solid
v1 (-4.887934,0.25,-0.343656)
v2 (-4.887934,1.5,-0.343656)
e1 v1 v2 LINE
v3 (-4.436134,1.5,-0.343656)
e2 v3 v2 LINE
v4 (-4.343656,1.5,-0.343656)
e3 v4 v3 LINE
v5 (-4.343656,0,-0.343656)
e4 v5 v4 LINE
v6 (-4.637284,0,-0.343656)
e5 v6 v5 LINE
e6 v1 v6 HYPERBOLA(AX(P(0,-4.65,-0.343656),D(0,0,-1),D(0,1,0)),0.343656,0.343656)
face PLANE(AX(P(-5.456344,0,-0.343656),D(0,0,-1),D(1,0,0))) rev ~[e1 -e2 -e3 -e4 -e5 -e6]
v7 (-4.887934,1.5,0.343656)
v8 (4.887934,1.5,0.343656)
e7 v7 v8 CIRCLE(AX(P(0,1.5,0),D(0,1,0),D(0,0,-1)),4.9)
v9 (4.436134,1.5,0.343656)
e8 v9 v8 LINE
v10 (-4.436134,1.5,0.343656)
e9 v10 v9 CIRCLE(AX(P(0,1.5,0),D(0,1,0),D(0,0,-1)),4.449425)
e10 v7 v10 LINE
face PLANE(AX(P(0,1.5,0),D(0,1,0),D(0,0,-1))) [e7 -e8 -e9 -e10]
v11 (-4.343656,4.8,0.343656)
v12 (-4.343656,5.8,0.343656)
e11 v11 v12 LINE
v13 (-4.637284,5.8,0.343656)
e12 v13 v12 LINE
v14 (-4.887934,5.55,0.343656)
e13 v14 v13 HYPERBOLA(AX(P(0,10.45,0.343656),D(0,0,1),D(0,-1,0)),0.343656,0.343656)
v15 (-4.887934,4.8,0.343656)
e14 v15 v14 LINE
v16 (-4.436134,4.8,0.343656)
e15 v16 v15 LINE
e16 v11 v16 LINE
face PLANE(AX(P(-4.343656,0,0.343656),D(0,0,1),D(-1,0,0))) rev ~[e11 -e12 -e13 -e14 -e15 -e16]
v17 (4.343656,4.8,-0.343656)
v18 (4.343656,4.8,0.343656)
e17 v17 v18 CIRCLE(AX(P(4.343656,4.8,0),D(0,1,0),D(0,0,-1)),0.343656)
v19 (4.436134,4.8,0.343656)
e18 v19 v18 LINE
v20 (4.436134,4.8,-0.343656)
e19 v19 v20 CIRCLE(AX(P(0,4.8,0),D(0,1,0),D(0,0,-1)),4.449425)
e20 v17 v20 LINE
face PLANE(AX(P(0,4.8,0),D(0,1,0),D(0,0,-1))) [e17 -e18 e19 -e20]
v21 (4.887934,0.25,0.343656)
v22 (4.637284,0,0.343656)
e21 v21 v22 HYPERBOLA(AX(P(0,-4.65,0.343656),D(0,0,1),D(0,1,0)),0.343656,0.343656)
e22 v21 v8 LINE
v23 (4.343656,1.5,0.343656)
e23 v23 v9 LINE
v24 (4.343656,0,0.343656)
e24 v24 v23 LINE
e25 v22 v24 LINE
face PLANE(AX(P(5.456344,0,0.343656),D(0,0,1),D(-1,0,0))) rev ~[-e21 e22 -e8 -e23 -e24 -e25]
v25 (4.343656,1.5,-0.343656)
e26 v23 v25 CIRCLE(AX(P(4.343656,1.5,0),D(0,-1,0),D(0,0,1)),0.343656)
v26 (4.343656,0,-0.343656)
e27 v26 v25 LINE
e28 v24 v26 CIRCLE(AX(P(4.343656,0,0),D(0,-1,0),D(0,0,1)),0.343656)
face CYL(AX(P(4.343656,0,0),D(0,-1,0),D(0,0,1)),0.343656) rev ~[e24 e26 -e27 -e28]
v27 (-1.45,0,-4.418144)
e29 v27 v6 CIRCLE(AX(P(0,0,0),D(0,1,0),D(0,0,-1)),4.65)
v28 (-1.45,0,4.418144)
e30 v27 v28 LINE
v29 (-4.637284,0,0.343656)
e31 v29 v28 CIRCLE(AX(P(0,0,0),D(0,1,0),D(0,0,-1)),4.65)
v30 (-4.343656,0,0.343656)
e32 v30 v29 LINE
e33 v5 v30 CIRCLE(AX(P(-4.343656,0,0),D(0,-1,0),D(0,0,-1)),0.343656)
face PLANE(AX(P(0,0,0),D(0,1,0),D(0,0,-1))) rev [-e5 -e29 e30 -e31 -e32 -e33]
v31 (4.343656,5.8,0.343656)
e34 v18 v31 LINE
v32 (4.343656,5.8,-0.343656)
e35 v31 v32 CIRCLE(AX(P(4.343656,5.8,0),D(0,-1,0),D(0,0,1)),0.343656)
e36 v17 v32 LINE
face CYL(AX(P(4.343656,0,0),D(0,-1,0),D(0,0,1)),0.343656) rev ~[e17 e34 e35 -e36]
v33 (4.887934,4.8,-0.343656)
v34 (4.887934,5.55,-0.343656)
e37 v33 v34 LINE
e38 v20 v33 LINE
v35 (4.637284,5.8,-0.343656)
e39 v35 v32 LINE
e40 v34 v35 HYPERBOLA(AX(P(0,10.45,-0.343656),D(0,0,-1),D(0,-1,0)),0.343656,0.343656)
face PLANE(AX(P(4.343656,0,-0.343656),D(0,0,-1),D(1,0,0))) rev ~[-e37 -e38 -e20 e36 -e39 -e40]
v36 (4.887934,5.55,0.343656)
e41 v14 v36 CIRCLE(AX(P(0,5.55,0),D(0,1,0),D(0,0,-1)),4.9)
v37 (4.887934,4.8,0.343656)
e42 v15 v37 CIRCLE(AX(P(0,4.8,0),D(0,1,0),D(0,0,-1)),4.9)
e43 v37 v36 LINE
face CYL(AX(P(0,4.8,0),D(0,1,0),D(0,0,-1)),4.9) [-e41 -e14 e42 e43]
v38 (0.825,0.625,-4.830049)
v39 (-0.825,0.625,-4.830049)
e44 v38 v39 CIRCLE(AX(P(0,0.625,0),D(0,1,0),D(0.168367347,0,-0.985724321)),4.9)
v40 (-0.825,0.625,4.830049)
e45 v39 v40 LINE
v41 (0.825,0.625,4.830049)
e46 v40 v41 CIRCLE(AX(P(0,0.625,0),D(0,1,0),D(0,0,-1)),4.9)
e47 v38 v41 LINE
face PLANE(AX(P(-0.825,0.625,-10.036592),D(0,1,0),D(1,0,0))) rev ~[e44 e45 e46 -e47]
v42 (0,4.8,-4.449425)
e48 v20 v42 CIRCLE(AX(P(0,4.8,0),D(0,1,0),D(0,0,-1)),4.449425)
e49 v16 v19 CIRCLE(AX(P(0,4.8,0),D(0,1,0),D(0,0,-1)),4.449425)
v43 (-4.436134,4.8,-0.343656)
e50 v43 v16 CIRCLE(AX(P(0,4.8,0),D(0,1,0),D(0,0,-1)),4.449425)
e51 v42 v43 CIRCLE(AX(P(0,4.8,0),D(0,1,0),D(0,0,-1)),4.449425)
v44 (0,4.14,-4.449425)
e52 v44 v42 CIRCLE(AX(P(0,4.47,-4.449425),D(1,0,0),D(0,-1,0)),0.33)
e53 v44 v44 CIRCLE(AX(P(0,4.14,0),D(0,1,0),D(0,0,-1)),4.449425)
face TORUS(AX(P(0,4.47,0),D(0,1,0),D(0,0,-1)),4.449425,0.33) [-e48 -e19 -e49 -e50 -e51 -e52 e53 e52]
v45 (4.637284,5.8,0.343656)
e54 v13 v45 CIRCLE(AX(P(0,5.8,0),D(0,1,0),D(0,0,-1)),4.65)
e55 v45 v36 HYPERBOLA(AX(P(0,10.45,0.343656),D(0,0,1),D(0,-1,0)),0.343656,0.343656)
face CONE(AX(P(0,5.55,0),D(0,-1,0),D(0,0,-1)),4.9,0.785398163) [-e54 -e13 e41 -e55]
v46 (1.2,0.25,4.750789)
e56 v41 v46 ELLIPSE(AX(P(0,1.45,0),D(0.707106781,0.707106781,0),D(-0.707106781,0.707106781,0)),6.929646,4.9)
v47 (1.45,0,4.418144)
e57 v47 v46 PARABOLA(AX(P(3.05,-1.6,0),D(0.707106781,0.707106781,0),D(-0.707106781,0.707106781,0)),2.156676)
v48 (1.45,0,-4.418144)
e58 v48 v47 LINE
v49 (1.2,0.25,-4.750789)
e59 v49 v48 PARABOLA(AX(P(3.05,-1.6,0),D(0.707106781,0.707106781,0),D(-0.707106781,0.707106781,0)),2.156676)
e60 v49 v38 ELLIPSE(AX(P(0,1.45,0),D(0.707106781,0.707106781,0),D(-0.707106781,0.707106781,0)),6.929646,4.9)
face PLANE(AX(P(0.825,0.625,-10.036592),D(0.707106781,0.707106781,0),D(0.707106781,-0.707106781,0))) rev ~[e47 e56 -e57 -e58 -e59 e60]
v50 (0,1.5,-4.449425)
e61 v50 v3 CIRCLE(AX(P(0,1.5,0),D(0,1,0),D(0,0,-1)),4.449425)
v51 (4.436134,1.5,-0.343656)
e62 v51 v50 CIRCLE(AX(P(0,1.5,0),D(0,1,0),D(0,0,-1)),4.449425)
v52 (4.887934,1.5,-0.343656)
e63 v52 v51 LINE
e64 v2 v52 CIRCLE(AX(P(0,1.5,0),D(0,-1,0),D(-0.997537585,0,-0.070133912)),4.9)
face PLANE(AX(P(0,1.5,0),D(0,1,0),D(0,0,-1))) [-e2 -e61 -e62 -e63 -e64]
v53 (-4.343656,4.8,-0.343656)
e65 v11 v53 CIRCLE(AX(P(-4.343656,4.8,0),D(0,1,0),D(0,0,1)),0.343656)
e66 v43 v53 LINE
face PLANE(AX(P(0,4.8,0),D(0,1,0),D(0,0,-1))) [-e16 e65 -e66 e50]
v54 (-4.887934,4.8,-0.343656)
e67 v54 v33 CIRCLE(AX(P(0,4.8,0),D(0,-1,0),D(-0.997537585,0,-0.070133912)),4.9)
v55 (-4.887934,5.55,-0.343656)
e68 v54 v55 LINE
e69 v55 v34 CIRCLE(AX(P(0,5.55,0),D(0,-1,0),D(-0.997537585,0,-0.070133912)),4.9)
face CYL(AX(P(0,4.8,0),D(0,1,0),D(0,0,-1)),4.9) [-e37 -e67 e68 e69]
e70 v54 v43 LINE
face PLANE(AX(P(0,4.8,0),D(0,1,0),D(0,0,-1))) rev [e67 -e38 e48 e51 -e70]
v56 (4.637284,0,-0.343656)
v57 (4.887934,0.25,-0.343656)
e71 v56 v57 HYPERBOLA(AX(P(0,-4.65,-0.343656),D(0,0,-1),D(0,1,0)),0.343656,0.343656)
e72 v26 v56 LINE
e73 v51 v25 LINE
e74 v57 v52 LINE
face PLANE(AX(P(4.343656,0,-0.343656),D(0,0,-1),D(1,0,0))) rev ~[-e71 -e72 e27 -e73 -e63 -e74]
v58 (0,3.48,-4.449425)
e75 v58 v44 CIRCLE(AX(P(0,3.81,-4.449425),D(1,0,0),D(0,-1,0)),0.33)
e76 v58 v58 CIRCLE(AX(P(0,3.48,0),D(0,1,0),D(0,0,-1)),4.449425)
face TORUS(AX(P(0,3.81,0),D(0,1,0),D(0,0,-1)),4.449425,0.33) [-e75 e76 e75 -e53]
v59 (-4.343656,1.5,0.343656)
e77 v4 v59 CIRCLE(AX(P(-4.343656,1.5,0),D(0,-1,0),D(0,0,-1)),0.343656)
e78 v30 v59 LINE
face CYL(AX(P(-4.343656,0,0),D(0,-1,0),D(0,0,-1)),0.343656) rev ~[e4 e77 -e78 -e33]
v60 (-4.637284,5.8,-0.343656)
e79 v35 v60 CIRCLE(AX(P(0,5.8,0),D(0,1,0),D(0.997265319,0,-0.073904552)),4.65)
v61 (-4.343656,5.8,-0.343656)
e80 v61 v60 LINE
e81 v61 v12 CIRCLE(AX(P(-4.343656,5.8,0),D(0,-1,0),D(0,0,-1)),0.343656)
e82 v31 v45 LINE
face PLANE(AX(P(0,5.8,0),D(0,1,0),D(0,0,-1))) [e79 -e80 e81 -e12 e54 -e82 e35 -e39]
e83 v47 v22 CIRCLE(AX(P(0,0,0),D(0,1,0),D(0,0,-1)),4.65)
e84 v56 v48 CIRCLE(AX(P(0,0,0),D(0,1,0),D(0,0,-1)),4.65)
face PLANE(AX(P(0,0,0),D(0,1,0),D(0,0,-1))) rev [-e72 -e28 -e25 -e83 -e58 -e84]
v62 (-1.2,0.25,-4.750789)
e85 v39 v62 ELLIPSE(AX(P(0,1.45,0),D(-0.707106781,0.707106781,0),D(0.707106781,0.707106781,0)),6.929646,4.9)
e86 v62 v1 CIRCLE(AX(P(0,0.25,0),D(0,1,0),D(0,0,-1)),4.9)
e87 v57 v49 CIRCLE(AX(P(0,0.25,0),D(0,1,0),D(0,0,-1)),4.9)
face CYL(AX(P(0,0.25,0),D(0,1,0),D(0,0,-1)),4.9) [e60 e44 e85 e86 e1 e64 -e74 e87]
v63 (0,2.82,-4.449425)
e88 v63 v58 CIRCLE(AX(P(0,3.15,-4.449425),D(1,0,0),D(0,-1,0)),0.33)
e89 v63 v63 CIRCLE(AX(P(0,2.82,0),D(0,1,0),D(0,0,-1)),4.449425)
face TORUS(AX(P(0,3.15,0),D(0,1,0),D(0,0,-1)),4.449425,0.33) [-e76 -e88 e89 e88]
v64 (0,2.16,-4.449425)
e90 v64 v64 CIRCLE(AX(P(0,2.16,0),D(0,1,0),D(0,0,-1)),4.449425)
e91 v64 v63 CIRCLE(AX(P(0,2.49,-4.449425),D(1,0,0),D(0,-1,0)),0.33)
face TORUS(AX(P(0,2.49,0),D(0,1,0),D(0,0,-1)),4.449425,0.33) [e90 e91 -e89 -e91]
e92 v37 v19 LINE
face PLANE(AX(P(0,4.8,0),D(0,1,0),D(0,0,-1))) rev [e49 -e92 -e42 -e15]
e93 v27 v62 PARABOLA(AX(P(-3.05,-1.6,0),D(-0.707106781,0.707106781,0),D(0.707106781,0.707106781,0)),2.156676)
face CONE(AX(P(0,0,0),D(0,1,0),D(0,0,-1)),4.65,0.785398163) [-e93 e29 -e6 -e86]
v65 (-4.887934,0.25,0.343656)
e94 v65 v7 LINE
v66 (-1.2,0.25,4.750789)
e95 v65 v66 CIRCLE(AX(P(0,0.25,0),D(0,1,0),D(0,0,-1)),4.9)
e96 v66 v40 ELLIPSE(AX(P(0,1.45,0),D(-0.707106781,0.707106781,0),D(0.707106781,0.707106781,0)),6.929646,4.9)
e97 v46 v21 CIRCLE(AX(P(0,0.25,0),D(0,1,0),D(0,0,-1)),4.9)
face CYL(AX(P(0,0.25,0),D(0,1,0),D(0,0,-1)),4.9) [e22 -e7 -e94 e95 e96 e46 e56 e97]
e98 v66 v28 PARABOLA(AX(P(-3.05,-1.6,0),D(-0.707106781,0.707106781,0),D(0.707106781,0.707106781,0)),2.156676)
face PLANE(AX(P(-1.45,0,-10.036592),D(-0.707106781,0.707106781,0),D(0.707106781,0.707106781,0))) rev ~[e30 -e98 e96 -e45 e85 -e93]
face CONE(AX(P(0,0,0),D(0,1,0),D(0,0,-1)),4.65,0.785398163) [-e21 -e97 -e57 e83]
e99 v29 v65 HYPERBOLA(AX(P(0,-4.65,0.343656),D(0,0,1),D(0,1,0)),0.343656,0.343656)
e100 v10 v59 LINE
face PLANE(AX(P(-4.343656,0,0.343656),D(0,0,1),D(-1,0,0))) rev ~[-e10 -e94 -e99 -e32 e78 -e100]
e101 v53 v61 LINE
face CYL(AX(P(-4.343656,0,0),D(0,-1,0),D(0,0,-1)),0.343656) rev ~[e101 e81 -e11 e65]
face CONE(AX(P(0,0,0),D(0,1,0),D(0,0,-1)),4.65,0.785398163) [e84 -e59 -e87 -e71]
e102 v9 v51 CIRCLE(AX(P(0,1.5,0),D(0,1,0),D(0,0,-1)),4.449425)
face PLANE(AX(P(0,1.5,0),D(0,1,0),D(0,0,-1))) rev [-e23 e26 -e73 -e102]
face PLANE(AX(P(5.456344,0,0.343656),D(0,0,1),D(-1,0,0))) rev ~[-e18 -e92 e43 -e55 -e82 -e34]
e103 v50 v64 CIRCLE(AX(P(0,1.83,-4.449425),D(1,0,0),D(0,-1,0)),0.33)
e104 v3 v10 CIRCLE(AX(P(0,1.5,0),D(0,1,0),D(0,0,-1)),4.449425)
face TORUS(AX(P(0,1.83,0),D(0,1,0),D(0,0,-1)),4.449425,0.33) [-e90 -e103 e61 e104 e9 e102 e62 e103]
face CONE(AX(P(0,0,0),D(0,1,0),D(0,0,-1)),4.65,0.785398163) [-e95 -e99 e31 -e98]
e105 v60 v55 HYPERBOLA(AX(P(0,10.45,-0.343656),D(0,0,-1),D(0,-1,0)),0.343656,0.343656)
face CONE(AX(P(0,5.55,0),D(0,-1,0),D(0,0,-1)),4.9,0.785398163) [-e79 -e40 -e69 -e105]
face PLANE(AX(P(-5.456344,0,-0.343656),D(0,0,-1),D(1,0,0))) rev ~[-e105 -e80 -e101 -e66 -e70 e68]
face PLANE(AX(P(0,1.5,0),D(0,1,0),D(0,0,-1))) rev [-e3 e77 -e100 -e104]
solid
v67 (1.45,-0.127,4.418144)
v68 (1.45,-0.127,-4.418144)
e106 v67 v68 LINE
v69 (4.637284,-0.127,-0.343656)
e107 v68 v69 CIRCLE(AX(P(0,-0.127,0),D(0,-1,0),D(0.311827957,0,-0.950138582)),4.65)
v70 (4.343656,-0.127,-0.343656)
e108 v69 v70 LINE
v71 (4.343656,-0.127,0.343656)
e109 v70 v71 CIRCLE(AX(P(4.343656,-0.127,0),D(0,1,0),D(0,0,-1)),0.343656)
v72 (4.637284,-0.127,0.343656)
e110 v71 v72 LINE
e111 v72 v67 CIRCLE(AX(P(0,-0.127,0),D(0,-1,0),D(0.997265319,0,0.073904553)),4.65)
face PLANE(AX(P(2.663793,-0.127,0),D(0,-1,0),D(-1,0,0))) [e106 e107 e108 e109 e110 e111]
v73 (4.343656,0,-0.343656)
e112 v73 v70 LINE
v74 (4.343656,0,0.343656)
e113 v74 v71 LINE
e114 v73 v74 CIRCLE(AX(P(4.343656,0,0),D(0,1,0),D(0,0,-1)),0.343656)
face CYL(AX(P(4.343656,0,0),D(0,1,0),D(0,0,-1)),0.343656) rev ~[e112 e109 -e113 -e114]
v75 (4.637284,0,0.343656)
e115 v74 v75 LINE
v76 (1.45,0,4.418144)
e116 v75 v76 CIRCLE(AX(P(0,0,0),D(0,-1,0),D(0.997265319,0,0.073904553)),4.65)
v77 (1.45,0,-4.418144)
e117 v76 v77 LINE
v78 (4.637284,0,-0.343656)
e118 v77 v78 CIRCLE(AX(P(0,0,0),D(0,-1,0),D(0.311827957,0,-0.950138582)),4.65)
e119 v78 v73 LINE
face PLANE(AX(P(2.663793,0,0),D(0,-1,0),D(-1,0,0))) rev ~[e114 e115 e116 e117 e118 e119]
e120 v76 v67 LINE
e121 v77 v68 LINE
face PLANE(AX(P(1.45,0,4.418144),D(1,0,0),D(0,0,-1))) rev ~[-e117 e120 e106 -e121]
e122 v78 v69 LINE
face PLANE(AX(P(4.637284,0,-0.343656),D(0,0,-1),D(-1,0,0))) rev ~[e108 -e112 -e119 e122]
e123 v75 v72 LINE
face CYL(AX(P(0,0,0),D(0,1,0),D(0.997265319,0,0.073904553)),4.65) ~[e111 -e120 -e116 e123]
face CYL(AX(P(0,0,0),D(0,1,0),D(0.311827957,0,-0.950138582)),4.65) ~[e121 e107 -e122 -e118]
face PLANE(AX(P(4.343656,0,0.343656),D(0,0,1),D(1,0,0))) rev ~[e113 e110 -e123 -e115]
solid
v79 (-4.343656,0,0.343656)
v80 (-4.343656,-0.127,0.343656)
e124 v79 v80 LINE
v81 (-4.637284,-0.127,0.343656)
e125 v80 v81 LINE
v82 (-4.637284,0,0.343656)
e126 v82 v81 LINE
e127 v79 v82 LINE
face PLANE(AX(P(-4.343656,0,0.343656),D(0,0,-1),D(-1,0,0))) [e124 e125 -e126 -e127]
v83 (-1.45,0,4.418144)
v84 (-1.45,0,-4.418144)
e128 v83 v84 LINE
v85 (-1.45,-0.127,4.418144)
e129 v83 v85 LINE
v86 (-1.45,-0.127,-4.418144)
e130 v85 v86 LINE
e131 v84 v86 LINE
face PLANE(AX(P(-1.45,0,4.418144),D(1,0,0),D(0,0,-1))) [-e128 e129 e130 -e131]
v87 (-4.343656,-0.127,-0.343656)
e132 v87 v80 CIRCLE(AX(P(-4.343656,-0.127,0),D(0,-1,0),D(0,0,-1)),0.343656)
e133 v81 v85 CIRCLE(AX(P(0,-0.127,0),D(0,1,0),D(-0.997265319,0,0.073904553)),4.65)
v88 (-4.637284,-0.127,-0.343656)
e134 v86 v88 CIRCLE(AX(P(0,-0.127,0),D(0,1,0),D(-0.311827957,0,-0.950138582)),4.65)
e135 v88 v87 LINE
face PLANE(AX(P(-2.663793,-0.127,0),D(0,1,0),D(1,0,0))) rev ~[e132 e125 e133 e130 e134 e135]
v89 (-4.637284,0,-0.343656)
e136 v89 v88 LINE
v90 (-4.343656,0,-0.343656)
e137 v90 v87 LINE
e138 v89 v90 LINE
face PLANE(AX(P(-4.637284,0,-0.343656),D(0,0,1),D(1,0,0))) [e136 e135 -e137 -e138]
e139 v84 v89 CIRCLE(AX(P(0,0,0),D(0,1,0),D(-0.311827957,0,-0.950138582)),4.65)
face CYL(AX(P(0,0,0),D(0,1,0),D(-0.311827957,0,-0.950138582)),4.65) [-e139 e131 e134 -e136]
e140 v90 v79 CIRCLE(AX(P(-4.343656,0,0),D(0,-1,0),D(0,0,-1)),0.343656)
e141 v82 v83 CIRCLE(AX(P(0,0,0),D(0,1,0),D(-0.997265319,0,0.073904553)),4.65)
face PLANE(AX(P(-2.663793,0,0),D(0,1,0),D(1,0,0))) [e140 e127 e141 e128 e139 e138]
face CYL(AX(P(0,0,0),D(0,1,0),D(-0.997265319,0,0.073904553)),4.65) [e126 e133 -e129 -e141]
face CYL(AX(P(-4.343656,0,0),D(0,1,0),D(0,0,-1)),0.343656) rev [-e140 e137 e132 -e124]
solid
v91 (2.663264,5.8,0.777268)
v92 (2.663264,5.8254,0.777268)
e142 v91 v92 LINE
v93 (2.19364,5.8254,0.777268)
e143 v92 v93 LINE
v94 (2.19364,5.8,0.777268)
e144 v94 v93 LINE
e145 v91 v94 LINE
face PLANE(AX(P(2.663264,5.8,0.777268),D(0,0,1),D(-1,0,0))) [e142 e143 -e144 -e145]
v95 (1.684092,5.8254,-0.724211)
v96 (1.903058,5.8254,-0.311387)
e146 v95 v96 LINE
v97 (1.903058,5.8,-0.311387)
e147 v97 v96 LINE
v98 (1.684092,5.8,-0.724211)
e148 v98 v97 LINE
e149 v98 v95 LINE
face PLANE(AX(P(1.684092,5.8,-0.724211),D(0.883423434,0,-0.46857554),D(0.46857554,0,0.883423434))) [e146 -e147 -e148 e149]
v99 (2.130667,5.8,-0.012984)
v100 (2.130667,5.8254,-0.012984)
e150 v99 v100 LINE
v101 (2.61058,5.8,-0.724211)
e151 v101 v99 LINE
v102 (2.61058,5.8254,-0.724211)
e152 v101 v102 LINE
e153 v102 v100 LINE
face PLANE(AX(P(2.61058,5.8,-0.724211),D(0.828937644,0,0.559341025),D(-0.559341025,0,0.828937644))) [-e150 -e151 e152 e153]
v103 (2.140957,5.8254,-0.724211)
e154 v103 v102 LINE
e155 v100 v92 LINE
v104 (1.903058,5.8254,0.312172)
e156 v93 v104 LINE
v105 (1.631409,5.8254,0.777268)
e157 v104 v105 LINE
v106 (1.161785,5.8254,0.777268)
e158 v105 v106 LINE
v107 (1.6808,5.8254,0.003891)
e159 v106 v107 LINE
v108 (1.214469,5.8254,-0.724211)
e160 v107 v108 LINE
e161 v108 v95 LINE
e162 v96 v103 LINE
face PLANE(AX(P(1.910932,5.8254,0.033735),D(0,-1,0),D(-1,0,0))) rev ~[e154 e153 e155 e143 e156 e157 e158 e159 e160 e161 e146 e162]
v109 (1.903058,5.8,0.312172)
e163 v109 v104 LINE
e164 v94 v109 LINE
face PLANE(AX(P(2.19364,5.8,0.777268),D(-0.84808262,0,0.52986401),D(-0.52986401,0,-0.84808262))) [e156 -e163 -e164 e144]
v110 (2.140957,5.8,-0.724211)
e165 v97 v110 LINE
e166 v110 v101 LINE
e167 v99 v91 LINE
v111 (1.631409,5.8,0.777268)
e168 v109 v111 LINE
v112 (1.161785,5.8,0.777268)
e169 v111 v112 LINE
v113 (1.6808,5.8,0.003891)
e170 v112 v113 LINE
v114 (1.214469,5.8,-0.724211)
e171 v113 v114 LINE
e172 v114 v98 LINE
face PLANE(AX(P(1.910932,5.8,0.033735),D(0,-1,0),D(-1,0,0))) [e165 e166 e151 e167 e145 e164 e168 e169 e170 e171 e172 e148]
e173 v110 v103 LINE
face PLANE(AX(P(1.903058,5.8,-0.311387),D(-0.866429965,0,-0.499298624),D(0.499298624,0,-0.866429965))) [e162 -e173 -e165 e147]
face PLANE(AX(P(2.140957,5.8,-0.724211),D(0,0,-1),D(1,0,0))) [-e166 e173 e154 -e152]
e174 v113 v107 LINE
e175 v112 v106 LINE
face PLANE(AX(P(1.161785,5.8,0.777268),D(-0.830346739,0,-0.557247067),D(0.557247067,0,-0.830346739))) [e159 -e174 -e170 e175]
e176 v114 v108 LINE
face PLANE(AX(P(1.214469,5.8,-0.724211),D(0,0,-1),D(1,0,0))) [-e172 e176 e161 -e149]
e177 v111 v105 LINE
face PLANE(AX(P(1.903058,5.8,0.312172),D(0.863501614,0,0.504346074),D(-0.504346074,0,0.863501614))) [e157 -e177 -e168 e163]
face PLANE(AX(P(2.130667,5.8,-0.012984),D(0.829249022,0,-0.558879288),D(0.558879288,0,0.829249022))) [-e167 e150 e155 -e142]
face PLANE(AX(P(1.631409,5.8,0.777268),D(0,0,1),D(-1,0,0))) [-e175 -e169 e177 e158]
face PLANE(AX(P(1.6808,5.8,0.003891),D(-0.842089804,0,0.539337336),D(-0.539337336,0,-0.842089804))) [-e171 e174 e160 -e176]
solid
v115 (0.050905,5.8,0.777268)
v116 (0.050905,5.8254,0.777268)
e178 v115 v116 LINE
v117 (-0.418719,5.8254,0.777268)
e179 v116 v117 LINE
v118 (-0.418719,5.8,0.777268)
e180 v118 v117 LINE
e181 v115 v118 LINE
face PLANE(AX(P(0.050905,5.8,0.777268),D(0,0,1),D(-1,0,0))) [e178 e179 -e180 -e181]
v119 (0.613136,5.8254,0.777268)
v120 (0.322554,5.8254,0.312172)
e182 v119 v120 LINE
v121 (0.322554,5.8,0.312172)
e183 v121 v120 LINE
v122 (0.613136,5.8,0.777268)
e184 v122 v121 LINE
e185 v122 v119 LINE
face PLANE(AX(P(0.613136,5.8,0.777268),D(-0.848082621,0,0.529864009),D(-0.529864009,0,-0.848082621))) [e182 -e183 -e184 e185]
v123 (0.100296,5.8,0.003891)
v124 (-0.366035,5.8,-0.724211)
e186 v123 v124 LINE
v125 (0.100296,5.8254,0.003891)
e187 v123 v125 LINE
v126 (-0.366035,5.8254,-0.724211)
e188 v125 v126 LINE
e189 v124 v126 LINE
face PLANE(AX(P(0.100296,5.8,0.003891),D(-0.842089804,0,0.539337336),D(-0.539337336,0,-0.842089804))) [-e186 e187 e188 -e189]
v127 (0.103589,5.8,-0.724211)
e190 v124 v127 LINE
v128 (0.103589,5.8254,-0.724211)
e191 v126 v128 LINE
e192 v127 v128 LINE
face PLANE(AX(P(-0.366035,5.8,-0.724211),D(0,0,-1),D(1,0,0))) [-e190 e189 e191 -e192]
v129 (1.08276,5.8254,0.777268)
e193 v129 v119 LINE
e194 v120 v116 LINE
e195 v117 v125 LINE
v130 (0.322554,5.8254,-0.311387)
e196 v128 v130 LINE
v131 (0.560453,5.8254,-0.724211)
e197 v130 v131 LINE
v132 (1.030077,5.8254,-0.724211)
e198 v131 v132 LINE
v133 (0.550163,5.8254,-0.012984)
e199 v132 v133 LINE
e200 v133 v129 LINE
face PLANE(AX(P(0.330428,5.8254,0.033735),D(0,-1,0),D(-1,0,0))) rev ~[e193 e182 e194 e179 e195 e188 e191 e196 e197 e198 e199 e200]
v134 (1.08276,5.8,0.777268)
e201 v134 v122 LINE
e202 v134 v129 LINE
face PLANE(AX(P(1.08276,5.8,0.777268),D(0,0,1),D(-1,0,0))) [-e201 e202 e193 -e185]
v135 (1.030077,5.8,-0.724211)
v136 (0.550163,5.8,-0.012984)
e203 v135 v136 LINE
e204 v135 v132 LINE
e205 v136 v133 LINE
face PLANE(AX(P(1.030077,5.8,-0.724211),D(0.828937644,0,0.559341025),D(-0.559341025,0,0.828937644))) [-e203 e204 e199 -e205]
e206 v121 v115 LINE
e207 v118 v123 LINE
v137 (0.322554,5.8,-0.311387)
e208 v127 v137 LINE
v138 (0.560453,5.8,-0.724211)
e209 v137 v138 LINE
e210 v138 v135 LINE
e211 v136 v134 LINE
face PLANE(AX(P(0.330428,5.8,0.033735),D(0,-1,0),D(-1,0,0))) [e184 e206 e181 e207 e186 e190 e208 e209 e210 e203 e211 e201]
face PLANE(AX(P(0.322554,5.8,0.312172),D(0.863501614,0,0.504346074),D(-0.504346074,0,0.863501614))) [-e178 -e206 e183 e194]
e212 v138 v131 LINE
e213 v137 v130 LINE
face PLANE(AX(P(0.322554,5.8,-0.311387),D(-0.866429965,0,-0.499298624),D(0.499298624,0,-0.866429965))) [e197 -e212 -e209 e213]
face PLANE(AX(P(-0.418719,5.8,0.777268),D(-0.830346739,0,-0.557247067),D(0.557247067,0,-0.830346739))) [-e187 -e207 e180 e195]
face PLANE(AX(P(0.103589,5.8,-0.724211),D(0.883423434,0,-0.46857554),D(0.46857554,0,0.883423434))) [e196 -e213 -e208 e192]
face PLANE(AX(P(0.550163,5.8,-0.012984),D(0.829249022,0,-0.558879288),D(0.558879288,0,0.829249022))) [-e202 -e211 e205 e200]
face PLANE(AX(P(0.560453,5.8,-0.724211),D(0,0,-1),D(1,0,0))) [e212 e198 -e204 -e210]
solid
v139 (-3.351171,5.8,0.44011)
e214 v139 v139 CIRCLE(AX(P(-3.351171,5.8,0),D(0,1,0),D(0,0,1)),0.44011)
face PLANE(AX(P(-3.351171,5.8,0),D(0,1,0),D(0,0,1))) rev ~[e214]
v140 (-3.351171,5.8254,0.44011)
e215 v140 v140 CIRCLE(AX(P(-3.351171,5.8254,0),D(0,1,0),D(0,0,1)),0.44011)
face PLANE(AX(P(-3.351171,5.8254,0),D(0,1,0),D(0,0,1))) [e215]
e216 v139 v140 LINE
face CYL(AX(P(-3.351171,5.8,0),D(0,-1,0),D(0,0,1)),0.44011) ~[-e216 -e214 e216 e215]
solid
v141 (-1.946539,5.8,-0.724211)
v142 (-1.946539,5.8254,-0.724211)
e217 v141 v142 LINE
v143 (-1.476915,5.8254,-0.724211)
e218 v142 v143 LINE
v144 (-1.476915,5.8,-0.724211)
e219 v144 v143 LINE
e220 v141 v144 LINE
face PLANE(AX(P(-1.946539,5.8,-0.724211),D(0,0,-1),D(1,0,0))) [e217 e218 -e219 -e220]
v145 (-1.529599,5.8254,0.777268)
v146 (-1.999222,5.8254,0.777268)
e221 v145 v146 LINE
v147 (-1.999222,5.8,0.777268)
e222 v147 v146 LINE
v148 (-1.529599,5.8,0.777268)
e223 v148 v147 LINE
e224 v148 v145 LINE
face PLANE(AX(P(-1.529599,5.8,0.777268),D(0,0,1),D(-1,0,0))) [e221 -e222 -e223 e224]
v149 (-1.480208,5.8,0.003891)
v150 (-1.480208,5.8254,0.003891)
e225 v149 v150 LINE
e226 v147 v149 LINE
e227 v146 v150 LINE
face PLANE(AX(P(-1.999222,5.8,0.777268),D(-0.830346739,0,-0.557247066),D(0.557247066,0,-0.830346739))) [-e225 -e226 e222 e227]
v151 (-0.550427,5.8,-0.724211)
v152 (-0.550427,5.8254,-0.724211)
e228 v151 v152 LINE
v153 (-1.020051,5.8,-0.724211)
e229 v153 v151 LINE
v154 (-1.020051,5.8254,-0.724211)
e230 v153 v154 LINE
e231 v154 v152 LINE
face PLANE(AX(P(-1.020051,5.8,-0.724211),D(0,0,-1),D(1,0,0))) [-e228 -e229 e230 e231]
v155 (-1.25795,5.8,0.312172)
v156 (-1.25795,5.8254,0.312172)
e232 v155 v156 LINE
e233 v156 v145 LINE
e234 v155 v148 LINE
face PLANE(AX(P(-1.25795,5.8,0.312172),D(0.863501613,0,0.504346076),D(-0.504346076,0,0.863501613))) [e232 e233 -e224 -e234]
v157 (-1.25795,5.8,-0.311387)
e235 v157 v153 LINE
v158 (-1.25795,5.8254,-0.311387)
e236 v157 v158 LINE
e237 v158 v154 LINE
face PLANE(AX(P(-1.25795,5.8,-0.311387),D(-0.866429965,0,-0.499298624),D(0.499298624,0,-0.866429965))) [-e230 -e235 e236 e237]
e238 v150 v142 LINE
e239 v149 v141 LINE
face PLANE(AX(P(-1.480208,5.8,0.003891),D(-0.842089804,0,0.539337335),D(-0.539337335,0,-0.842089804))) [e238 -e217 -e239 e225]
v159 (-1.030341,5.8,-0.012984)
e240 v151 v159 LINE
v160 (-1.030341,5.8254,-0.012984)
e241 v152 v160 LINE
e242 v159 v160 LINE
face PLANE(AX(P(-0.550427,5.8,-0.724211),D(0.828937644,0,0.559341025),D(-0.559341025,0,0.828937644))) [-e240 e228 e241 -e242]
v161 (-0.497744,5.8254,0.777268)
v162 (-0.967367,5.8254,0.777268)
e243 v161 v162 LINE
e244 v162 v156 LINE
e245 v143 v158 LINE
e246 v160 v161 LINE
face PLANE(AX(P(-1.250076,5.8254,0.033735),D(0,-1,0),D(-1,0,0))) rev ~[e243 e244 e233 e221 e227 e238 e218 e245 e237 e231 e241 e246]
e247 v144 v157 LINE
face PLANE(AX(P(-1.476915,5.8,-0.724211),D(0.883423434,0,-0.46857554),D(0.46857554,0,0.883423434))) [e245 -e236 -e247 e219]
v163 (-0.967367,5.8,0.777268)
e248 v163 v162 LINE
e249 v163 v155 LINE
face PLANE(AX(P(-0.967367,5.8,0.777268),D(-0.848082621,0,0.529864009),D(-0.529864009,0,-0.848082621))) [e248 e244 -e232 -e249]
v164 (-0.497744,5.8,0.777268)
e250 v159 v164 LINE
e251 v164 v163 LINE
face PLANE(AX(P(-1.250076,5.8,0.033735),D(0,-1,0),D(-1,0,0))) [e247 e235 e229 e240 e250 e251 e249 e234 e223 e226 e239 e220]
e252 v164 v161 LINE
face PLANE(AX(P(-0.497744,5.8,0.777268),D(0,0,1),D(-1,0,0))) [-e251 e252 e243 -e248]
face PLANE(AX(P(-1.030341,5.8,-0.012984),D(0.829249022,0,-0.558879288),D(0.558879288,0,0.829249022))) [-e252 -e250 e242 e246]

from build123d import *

# Parameters (mm, degrees)
CUTEXTD_BOTTOM_NOTCH_DEPTH            = 10.036592278
CUTEXTD_BOTTOM_NOTCH_DEPTH_BACK       = 10.036592278
CUTEXTD_TOP_BOT_WIRE_PASSTHRUS_DEPTH  = 10.036592278
EXTDBOSS_ELECTRODES_ON_BOTTOM_DEPTH   = 0.127
EXTDBOSS_ELECTRODES_ON_BOTTOM_2_DEPTH = 0.127
SKETCH6_R                             = 0.440109776
BOSSEXTD_LABEL_TOP_DEPTH              = 0.0254
BOSSEXTD_LABEL_TOP_2_DEPTH            = 0.0254
BOSSEXTD_LABEL_TOP_3_DEPTH            = 0.0254
BOSSEXTD_LABEL_TOP_4_DEPTH            = 0.0254


with BuildPart() as part:
    # Sketch1 → Revolve: Main Core Shape (revolve)
    with BuildSketch(Plane.XY, mode=Mode.PRIVATE) as revolve_main_core_shape_sk:
        Polygon((0, 0), (4.65, 0), (4.9, 0.25), (4.9, 1.5), (4, 1.5), (4, 4.8), (4.9, 4.8), (4.9, 5.55), (4.65, 5.8), (0, 5.8), align=None)
    revolve(revolve_main_core_shape_sk.sketch.rotate(Axis((0, -9.075341638, 0), (0, 1, 0)), 90), axis=Axis((0, -9.075341638, 0), (0, 1, 0)))

    # Sketch2 → CutExtd: Bottom Notch (cut, two sides: drawn at the far end of the back side and taken through both)
    with BuildSketch(Plane.XY.offset(-CUTEXTD_BOTTOM_NOTCH_DEPTH_BACK)):
        Polygon((-1.45, 0), (-0.825, 0.625), (0.825, 0.625), (1.45, 0), align=None)
    extrude(amount=CUTEXTD_BOTTOM_NOTCH_DEPTH + CUTEXTD_BOTTOM_NOTCH_DEPTH_BACK, mode=Mode.SUBTRACT)

    # Sketch3 → CutExtd: Top/Bot Wire PassThrus (cut, through all)
    with BuildSketch(Plane(origin=(0, 0, 0), x_dir=(1, 0, 0), z_dir=(0, 1, 0))):
        with BuildLine():
            Line((-5.456343832, 0.343656168), (-4.343656168, 0.343656168))
            ThreePointArc((-4.343656168, 0.343656168), (-4, 0), (-4.343656168, -0.343656168))
            Line((-4.343656168, -0.343656168), (-5.456343832, -0.343656168))
            ThreePointArc((-5.456343832, -0.343656168), (-5.8, 0), (-5.456343832, 0.343656168))
        make_face()
        with BuildLine():
            Line((5.456343832, -0.343656168), (4.343656168, -0.343656168))
            ThreePointArc((4.343656168, -0.343656168), (4, 0), (4.343656168, 0.343656168))
            Line((4.343656168, 0.343656168), (5.456343832, 0.343656168))
            ThreePointArc((5.456343832, 0.343656168), (5.8, 0), (5.456343832, -0.343656168))
        make_face()
    extrude(amount=CUTEXTD_TOP_BOT_WIRE_PASSTHRUS_DEPTH, mode=Mode.SUBTRACT)

    # Sketch5 → Revolve: Coil (revolve)
    with BuildSketch(Plane(origin=(0, 0, 0), x_dir=(0, 0, -1), z_dir=(1, 0, 0))):
        with BuildLine():
            Line((4, 4.8), (4, 1.5))
            Line((4, 1.5), (4.449424703, 1.5))
            ThreePointArc((4.449424703, 1.5), (4.779424703, 1.83), (4.449424703, 2.16))
            ThreePointArc((4.449424703, 2.16), (4.779424703, 2.49), (4.449424703, 2.82))
            ThreePointArc((4.449424703, 2.82), (4.779424703, 3.15), (4.449424703, 3.48))
            ThreePointArc((4.449424703, 3.48), (4.779424703, 3.81), (4.449424703, 4.14))
            ThreePointArc((4.449424703, 4.14), (4.779424703, 4.47), (4.449424703, 4.8))
            Line((4.449424703, 4.8), (4, 4.8))
        make_face()
    revolve(axis=Axis((0, 0, 0), (0, 1, 0)))


with BuildPart() as body_2:
    # Sketch4 → ExtdBoss: Electrodes on Bottom (new body)
    with BuildSketch(Plane(origin=(0, 0, 0), x_dir=(1, 0, 0), z_dir=(0, 1, 0))):
        with BuildLine():
            Line((-1.45, -4.418144407), (-1.45, 4.418144407))
            ThreePointArc((-1.45, 4.418144407), (-3.662529101, 2.865027152), (-4.637283735, 0.343656168))
            Line((-4.637283735, 0.343656168), (-4.343656168, 0.343656168))
            ThreePointArc((-4.343656168, 0.343656168), (-4, 0), (-4.343656168, -0.343656168))
            Line((-4.343656168, -0.343656168), (-4.637283735, -0.343656168))
            ThreePointArc((-4.637283735, -0.343656168), (-3.662529101, -2.865027152), (-1.45, -4.418144407))
        make_face()
    extrude(amount=-EXTDBOSS_ELECTRODES_ON_BOTTOM_DEPTH)


with BuildPart() as body_3:
    # Sketch4 → ExtdBoss_ Electrodes on Bottom 2 (new body)
    with BuildSketch(Plane(origin=(0, 0, 0), x_dir=(1, 0, 0), z_dir=(0, 1, 0))):
        with BuildLine():
            Line((4.343656168, -0.343656168), (4.637283735, -0.343656168))
            ThreePointArc((4.637283735, -0.343656168), (3.662529101, -2.865027152), (1.45, -4.418144407))
            Line((1.45, -4.418144407), (1.45, 4.418144407))
            ThreePointArc((1.45, 4.418144407), (3.662529101, 2.865027152), (4.637283735, 0.343656168))
            Line((4.637283735, 0.343656168), (4.343656168, 0.343656168))
            ThreePointArc((4.343656168, 0.343656168), (4, 0), (4.343656168, -0.343656168))
        make_face()
    extrude(amount=-EXTDBOSS_ELECTRODES_ON_BOTTOM_2_DEPTH)


with BuildPart() as body_4:
    # Sketch6 → BossExtd: Label (Top) (new body)
    with BuildSketch(Plane(origin=(0, 5.8, 0), x_dir=(1, 0, 0), z_dir=(0, 1, 0))):
        with Locations(Location((-3.351170639, 0, 0), (0, 0, 270))):
            Circle(SKETCH6_R)
    extrude(amount=BOSSEXTD_LABEL_TOP_DEPTH)


with BuildPart() as body_5:
    # Sketch6 → BossExtd_ Label _Top 2 (new body)
    with BuildSketch(Plane(origin=(0, 5.8, 0), x_dir=(1, 0, 0), z_dir=(0, 1, 0))):
        Polygon((-1.999222394, -0.777267715), (-1.480207994, -0.003890983), (-1.946538934, 0.724210901), (-1.476915277, 0.724210901), (-1.257949646, 0.3113866), (-1.020050896, 0.724210901), (-0.550427239, 0.724210901), (-1.030340634, 0.012984188), (-0.497743779, -0.777267715), (-0.967367436, -0.777267715), (-1.257949646, -0.312171543), (-1.529598738, -0.777267715), align=None)
    extrude(amount=BOSSEXTD_LABEL_TOP_2_DEPTH)


with BuildPart() as body_6:
    # Sketch6 → BossExtd_ Label _Top 3 (new body)
    with BuildSketch(Plane(origin=(0, 5.8, 0), x_dir=(1, 0, 0), z_dir=(0, 1, 0))):
        Polygon((-0.418718588, -0.777267715), (0.100295813, -0.003890983), (-0.366035128, 0.724210901), (0.103588529, 0.724210901), (0.32255416, 0.3113866), (0.56045291, 0.724210901), (1.030076567, 0.724210901), (0.550163172, 0.012984188), (1.082760027, -0.777267715), (0.61313637, -0.777267715), (0.32255416, -0.312171543), (0.050905069, -0.777267715), align=None)
    extrude(amount=BOSSEXTD_LABEL_TOP_3_DEPTH)


with BuildPart() as body_7:
    # Sketch6 → BossExtd_ Label _Top 4 (new body)
    with BuildSketch(Plane(origin=(0, 5.8, 0), x_dir=(1, 0, 0), z_dir=(0, 1, 0))):
        Polygon((1.161785218, -0.777267715), (1.680799619, -0.003890983), (1.214468678, 0.724210901), (1.684092335, 0.724210901), (1.903057966, 0.3113866), (2.140956716, 0.724210901), (2.610580373, 0.724210901), (2.130666978, 0.012984188), (2.663263833, -0.777267715), (2.193640177, -0.777267715), (1.903057966, -0.312171543), (1.631408875, -0.777267715), align=None)
    extrude(amount=BOSSEXTD_LABEL_TOP_4_DEPTH)


solid = Compound([part.part, body_2.part, body_3.part, body_4.part, body_5.part, body_6.part, body_7.part])
